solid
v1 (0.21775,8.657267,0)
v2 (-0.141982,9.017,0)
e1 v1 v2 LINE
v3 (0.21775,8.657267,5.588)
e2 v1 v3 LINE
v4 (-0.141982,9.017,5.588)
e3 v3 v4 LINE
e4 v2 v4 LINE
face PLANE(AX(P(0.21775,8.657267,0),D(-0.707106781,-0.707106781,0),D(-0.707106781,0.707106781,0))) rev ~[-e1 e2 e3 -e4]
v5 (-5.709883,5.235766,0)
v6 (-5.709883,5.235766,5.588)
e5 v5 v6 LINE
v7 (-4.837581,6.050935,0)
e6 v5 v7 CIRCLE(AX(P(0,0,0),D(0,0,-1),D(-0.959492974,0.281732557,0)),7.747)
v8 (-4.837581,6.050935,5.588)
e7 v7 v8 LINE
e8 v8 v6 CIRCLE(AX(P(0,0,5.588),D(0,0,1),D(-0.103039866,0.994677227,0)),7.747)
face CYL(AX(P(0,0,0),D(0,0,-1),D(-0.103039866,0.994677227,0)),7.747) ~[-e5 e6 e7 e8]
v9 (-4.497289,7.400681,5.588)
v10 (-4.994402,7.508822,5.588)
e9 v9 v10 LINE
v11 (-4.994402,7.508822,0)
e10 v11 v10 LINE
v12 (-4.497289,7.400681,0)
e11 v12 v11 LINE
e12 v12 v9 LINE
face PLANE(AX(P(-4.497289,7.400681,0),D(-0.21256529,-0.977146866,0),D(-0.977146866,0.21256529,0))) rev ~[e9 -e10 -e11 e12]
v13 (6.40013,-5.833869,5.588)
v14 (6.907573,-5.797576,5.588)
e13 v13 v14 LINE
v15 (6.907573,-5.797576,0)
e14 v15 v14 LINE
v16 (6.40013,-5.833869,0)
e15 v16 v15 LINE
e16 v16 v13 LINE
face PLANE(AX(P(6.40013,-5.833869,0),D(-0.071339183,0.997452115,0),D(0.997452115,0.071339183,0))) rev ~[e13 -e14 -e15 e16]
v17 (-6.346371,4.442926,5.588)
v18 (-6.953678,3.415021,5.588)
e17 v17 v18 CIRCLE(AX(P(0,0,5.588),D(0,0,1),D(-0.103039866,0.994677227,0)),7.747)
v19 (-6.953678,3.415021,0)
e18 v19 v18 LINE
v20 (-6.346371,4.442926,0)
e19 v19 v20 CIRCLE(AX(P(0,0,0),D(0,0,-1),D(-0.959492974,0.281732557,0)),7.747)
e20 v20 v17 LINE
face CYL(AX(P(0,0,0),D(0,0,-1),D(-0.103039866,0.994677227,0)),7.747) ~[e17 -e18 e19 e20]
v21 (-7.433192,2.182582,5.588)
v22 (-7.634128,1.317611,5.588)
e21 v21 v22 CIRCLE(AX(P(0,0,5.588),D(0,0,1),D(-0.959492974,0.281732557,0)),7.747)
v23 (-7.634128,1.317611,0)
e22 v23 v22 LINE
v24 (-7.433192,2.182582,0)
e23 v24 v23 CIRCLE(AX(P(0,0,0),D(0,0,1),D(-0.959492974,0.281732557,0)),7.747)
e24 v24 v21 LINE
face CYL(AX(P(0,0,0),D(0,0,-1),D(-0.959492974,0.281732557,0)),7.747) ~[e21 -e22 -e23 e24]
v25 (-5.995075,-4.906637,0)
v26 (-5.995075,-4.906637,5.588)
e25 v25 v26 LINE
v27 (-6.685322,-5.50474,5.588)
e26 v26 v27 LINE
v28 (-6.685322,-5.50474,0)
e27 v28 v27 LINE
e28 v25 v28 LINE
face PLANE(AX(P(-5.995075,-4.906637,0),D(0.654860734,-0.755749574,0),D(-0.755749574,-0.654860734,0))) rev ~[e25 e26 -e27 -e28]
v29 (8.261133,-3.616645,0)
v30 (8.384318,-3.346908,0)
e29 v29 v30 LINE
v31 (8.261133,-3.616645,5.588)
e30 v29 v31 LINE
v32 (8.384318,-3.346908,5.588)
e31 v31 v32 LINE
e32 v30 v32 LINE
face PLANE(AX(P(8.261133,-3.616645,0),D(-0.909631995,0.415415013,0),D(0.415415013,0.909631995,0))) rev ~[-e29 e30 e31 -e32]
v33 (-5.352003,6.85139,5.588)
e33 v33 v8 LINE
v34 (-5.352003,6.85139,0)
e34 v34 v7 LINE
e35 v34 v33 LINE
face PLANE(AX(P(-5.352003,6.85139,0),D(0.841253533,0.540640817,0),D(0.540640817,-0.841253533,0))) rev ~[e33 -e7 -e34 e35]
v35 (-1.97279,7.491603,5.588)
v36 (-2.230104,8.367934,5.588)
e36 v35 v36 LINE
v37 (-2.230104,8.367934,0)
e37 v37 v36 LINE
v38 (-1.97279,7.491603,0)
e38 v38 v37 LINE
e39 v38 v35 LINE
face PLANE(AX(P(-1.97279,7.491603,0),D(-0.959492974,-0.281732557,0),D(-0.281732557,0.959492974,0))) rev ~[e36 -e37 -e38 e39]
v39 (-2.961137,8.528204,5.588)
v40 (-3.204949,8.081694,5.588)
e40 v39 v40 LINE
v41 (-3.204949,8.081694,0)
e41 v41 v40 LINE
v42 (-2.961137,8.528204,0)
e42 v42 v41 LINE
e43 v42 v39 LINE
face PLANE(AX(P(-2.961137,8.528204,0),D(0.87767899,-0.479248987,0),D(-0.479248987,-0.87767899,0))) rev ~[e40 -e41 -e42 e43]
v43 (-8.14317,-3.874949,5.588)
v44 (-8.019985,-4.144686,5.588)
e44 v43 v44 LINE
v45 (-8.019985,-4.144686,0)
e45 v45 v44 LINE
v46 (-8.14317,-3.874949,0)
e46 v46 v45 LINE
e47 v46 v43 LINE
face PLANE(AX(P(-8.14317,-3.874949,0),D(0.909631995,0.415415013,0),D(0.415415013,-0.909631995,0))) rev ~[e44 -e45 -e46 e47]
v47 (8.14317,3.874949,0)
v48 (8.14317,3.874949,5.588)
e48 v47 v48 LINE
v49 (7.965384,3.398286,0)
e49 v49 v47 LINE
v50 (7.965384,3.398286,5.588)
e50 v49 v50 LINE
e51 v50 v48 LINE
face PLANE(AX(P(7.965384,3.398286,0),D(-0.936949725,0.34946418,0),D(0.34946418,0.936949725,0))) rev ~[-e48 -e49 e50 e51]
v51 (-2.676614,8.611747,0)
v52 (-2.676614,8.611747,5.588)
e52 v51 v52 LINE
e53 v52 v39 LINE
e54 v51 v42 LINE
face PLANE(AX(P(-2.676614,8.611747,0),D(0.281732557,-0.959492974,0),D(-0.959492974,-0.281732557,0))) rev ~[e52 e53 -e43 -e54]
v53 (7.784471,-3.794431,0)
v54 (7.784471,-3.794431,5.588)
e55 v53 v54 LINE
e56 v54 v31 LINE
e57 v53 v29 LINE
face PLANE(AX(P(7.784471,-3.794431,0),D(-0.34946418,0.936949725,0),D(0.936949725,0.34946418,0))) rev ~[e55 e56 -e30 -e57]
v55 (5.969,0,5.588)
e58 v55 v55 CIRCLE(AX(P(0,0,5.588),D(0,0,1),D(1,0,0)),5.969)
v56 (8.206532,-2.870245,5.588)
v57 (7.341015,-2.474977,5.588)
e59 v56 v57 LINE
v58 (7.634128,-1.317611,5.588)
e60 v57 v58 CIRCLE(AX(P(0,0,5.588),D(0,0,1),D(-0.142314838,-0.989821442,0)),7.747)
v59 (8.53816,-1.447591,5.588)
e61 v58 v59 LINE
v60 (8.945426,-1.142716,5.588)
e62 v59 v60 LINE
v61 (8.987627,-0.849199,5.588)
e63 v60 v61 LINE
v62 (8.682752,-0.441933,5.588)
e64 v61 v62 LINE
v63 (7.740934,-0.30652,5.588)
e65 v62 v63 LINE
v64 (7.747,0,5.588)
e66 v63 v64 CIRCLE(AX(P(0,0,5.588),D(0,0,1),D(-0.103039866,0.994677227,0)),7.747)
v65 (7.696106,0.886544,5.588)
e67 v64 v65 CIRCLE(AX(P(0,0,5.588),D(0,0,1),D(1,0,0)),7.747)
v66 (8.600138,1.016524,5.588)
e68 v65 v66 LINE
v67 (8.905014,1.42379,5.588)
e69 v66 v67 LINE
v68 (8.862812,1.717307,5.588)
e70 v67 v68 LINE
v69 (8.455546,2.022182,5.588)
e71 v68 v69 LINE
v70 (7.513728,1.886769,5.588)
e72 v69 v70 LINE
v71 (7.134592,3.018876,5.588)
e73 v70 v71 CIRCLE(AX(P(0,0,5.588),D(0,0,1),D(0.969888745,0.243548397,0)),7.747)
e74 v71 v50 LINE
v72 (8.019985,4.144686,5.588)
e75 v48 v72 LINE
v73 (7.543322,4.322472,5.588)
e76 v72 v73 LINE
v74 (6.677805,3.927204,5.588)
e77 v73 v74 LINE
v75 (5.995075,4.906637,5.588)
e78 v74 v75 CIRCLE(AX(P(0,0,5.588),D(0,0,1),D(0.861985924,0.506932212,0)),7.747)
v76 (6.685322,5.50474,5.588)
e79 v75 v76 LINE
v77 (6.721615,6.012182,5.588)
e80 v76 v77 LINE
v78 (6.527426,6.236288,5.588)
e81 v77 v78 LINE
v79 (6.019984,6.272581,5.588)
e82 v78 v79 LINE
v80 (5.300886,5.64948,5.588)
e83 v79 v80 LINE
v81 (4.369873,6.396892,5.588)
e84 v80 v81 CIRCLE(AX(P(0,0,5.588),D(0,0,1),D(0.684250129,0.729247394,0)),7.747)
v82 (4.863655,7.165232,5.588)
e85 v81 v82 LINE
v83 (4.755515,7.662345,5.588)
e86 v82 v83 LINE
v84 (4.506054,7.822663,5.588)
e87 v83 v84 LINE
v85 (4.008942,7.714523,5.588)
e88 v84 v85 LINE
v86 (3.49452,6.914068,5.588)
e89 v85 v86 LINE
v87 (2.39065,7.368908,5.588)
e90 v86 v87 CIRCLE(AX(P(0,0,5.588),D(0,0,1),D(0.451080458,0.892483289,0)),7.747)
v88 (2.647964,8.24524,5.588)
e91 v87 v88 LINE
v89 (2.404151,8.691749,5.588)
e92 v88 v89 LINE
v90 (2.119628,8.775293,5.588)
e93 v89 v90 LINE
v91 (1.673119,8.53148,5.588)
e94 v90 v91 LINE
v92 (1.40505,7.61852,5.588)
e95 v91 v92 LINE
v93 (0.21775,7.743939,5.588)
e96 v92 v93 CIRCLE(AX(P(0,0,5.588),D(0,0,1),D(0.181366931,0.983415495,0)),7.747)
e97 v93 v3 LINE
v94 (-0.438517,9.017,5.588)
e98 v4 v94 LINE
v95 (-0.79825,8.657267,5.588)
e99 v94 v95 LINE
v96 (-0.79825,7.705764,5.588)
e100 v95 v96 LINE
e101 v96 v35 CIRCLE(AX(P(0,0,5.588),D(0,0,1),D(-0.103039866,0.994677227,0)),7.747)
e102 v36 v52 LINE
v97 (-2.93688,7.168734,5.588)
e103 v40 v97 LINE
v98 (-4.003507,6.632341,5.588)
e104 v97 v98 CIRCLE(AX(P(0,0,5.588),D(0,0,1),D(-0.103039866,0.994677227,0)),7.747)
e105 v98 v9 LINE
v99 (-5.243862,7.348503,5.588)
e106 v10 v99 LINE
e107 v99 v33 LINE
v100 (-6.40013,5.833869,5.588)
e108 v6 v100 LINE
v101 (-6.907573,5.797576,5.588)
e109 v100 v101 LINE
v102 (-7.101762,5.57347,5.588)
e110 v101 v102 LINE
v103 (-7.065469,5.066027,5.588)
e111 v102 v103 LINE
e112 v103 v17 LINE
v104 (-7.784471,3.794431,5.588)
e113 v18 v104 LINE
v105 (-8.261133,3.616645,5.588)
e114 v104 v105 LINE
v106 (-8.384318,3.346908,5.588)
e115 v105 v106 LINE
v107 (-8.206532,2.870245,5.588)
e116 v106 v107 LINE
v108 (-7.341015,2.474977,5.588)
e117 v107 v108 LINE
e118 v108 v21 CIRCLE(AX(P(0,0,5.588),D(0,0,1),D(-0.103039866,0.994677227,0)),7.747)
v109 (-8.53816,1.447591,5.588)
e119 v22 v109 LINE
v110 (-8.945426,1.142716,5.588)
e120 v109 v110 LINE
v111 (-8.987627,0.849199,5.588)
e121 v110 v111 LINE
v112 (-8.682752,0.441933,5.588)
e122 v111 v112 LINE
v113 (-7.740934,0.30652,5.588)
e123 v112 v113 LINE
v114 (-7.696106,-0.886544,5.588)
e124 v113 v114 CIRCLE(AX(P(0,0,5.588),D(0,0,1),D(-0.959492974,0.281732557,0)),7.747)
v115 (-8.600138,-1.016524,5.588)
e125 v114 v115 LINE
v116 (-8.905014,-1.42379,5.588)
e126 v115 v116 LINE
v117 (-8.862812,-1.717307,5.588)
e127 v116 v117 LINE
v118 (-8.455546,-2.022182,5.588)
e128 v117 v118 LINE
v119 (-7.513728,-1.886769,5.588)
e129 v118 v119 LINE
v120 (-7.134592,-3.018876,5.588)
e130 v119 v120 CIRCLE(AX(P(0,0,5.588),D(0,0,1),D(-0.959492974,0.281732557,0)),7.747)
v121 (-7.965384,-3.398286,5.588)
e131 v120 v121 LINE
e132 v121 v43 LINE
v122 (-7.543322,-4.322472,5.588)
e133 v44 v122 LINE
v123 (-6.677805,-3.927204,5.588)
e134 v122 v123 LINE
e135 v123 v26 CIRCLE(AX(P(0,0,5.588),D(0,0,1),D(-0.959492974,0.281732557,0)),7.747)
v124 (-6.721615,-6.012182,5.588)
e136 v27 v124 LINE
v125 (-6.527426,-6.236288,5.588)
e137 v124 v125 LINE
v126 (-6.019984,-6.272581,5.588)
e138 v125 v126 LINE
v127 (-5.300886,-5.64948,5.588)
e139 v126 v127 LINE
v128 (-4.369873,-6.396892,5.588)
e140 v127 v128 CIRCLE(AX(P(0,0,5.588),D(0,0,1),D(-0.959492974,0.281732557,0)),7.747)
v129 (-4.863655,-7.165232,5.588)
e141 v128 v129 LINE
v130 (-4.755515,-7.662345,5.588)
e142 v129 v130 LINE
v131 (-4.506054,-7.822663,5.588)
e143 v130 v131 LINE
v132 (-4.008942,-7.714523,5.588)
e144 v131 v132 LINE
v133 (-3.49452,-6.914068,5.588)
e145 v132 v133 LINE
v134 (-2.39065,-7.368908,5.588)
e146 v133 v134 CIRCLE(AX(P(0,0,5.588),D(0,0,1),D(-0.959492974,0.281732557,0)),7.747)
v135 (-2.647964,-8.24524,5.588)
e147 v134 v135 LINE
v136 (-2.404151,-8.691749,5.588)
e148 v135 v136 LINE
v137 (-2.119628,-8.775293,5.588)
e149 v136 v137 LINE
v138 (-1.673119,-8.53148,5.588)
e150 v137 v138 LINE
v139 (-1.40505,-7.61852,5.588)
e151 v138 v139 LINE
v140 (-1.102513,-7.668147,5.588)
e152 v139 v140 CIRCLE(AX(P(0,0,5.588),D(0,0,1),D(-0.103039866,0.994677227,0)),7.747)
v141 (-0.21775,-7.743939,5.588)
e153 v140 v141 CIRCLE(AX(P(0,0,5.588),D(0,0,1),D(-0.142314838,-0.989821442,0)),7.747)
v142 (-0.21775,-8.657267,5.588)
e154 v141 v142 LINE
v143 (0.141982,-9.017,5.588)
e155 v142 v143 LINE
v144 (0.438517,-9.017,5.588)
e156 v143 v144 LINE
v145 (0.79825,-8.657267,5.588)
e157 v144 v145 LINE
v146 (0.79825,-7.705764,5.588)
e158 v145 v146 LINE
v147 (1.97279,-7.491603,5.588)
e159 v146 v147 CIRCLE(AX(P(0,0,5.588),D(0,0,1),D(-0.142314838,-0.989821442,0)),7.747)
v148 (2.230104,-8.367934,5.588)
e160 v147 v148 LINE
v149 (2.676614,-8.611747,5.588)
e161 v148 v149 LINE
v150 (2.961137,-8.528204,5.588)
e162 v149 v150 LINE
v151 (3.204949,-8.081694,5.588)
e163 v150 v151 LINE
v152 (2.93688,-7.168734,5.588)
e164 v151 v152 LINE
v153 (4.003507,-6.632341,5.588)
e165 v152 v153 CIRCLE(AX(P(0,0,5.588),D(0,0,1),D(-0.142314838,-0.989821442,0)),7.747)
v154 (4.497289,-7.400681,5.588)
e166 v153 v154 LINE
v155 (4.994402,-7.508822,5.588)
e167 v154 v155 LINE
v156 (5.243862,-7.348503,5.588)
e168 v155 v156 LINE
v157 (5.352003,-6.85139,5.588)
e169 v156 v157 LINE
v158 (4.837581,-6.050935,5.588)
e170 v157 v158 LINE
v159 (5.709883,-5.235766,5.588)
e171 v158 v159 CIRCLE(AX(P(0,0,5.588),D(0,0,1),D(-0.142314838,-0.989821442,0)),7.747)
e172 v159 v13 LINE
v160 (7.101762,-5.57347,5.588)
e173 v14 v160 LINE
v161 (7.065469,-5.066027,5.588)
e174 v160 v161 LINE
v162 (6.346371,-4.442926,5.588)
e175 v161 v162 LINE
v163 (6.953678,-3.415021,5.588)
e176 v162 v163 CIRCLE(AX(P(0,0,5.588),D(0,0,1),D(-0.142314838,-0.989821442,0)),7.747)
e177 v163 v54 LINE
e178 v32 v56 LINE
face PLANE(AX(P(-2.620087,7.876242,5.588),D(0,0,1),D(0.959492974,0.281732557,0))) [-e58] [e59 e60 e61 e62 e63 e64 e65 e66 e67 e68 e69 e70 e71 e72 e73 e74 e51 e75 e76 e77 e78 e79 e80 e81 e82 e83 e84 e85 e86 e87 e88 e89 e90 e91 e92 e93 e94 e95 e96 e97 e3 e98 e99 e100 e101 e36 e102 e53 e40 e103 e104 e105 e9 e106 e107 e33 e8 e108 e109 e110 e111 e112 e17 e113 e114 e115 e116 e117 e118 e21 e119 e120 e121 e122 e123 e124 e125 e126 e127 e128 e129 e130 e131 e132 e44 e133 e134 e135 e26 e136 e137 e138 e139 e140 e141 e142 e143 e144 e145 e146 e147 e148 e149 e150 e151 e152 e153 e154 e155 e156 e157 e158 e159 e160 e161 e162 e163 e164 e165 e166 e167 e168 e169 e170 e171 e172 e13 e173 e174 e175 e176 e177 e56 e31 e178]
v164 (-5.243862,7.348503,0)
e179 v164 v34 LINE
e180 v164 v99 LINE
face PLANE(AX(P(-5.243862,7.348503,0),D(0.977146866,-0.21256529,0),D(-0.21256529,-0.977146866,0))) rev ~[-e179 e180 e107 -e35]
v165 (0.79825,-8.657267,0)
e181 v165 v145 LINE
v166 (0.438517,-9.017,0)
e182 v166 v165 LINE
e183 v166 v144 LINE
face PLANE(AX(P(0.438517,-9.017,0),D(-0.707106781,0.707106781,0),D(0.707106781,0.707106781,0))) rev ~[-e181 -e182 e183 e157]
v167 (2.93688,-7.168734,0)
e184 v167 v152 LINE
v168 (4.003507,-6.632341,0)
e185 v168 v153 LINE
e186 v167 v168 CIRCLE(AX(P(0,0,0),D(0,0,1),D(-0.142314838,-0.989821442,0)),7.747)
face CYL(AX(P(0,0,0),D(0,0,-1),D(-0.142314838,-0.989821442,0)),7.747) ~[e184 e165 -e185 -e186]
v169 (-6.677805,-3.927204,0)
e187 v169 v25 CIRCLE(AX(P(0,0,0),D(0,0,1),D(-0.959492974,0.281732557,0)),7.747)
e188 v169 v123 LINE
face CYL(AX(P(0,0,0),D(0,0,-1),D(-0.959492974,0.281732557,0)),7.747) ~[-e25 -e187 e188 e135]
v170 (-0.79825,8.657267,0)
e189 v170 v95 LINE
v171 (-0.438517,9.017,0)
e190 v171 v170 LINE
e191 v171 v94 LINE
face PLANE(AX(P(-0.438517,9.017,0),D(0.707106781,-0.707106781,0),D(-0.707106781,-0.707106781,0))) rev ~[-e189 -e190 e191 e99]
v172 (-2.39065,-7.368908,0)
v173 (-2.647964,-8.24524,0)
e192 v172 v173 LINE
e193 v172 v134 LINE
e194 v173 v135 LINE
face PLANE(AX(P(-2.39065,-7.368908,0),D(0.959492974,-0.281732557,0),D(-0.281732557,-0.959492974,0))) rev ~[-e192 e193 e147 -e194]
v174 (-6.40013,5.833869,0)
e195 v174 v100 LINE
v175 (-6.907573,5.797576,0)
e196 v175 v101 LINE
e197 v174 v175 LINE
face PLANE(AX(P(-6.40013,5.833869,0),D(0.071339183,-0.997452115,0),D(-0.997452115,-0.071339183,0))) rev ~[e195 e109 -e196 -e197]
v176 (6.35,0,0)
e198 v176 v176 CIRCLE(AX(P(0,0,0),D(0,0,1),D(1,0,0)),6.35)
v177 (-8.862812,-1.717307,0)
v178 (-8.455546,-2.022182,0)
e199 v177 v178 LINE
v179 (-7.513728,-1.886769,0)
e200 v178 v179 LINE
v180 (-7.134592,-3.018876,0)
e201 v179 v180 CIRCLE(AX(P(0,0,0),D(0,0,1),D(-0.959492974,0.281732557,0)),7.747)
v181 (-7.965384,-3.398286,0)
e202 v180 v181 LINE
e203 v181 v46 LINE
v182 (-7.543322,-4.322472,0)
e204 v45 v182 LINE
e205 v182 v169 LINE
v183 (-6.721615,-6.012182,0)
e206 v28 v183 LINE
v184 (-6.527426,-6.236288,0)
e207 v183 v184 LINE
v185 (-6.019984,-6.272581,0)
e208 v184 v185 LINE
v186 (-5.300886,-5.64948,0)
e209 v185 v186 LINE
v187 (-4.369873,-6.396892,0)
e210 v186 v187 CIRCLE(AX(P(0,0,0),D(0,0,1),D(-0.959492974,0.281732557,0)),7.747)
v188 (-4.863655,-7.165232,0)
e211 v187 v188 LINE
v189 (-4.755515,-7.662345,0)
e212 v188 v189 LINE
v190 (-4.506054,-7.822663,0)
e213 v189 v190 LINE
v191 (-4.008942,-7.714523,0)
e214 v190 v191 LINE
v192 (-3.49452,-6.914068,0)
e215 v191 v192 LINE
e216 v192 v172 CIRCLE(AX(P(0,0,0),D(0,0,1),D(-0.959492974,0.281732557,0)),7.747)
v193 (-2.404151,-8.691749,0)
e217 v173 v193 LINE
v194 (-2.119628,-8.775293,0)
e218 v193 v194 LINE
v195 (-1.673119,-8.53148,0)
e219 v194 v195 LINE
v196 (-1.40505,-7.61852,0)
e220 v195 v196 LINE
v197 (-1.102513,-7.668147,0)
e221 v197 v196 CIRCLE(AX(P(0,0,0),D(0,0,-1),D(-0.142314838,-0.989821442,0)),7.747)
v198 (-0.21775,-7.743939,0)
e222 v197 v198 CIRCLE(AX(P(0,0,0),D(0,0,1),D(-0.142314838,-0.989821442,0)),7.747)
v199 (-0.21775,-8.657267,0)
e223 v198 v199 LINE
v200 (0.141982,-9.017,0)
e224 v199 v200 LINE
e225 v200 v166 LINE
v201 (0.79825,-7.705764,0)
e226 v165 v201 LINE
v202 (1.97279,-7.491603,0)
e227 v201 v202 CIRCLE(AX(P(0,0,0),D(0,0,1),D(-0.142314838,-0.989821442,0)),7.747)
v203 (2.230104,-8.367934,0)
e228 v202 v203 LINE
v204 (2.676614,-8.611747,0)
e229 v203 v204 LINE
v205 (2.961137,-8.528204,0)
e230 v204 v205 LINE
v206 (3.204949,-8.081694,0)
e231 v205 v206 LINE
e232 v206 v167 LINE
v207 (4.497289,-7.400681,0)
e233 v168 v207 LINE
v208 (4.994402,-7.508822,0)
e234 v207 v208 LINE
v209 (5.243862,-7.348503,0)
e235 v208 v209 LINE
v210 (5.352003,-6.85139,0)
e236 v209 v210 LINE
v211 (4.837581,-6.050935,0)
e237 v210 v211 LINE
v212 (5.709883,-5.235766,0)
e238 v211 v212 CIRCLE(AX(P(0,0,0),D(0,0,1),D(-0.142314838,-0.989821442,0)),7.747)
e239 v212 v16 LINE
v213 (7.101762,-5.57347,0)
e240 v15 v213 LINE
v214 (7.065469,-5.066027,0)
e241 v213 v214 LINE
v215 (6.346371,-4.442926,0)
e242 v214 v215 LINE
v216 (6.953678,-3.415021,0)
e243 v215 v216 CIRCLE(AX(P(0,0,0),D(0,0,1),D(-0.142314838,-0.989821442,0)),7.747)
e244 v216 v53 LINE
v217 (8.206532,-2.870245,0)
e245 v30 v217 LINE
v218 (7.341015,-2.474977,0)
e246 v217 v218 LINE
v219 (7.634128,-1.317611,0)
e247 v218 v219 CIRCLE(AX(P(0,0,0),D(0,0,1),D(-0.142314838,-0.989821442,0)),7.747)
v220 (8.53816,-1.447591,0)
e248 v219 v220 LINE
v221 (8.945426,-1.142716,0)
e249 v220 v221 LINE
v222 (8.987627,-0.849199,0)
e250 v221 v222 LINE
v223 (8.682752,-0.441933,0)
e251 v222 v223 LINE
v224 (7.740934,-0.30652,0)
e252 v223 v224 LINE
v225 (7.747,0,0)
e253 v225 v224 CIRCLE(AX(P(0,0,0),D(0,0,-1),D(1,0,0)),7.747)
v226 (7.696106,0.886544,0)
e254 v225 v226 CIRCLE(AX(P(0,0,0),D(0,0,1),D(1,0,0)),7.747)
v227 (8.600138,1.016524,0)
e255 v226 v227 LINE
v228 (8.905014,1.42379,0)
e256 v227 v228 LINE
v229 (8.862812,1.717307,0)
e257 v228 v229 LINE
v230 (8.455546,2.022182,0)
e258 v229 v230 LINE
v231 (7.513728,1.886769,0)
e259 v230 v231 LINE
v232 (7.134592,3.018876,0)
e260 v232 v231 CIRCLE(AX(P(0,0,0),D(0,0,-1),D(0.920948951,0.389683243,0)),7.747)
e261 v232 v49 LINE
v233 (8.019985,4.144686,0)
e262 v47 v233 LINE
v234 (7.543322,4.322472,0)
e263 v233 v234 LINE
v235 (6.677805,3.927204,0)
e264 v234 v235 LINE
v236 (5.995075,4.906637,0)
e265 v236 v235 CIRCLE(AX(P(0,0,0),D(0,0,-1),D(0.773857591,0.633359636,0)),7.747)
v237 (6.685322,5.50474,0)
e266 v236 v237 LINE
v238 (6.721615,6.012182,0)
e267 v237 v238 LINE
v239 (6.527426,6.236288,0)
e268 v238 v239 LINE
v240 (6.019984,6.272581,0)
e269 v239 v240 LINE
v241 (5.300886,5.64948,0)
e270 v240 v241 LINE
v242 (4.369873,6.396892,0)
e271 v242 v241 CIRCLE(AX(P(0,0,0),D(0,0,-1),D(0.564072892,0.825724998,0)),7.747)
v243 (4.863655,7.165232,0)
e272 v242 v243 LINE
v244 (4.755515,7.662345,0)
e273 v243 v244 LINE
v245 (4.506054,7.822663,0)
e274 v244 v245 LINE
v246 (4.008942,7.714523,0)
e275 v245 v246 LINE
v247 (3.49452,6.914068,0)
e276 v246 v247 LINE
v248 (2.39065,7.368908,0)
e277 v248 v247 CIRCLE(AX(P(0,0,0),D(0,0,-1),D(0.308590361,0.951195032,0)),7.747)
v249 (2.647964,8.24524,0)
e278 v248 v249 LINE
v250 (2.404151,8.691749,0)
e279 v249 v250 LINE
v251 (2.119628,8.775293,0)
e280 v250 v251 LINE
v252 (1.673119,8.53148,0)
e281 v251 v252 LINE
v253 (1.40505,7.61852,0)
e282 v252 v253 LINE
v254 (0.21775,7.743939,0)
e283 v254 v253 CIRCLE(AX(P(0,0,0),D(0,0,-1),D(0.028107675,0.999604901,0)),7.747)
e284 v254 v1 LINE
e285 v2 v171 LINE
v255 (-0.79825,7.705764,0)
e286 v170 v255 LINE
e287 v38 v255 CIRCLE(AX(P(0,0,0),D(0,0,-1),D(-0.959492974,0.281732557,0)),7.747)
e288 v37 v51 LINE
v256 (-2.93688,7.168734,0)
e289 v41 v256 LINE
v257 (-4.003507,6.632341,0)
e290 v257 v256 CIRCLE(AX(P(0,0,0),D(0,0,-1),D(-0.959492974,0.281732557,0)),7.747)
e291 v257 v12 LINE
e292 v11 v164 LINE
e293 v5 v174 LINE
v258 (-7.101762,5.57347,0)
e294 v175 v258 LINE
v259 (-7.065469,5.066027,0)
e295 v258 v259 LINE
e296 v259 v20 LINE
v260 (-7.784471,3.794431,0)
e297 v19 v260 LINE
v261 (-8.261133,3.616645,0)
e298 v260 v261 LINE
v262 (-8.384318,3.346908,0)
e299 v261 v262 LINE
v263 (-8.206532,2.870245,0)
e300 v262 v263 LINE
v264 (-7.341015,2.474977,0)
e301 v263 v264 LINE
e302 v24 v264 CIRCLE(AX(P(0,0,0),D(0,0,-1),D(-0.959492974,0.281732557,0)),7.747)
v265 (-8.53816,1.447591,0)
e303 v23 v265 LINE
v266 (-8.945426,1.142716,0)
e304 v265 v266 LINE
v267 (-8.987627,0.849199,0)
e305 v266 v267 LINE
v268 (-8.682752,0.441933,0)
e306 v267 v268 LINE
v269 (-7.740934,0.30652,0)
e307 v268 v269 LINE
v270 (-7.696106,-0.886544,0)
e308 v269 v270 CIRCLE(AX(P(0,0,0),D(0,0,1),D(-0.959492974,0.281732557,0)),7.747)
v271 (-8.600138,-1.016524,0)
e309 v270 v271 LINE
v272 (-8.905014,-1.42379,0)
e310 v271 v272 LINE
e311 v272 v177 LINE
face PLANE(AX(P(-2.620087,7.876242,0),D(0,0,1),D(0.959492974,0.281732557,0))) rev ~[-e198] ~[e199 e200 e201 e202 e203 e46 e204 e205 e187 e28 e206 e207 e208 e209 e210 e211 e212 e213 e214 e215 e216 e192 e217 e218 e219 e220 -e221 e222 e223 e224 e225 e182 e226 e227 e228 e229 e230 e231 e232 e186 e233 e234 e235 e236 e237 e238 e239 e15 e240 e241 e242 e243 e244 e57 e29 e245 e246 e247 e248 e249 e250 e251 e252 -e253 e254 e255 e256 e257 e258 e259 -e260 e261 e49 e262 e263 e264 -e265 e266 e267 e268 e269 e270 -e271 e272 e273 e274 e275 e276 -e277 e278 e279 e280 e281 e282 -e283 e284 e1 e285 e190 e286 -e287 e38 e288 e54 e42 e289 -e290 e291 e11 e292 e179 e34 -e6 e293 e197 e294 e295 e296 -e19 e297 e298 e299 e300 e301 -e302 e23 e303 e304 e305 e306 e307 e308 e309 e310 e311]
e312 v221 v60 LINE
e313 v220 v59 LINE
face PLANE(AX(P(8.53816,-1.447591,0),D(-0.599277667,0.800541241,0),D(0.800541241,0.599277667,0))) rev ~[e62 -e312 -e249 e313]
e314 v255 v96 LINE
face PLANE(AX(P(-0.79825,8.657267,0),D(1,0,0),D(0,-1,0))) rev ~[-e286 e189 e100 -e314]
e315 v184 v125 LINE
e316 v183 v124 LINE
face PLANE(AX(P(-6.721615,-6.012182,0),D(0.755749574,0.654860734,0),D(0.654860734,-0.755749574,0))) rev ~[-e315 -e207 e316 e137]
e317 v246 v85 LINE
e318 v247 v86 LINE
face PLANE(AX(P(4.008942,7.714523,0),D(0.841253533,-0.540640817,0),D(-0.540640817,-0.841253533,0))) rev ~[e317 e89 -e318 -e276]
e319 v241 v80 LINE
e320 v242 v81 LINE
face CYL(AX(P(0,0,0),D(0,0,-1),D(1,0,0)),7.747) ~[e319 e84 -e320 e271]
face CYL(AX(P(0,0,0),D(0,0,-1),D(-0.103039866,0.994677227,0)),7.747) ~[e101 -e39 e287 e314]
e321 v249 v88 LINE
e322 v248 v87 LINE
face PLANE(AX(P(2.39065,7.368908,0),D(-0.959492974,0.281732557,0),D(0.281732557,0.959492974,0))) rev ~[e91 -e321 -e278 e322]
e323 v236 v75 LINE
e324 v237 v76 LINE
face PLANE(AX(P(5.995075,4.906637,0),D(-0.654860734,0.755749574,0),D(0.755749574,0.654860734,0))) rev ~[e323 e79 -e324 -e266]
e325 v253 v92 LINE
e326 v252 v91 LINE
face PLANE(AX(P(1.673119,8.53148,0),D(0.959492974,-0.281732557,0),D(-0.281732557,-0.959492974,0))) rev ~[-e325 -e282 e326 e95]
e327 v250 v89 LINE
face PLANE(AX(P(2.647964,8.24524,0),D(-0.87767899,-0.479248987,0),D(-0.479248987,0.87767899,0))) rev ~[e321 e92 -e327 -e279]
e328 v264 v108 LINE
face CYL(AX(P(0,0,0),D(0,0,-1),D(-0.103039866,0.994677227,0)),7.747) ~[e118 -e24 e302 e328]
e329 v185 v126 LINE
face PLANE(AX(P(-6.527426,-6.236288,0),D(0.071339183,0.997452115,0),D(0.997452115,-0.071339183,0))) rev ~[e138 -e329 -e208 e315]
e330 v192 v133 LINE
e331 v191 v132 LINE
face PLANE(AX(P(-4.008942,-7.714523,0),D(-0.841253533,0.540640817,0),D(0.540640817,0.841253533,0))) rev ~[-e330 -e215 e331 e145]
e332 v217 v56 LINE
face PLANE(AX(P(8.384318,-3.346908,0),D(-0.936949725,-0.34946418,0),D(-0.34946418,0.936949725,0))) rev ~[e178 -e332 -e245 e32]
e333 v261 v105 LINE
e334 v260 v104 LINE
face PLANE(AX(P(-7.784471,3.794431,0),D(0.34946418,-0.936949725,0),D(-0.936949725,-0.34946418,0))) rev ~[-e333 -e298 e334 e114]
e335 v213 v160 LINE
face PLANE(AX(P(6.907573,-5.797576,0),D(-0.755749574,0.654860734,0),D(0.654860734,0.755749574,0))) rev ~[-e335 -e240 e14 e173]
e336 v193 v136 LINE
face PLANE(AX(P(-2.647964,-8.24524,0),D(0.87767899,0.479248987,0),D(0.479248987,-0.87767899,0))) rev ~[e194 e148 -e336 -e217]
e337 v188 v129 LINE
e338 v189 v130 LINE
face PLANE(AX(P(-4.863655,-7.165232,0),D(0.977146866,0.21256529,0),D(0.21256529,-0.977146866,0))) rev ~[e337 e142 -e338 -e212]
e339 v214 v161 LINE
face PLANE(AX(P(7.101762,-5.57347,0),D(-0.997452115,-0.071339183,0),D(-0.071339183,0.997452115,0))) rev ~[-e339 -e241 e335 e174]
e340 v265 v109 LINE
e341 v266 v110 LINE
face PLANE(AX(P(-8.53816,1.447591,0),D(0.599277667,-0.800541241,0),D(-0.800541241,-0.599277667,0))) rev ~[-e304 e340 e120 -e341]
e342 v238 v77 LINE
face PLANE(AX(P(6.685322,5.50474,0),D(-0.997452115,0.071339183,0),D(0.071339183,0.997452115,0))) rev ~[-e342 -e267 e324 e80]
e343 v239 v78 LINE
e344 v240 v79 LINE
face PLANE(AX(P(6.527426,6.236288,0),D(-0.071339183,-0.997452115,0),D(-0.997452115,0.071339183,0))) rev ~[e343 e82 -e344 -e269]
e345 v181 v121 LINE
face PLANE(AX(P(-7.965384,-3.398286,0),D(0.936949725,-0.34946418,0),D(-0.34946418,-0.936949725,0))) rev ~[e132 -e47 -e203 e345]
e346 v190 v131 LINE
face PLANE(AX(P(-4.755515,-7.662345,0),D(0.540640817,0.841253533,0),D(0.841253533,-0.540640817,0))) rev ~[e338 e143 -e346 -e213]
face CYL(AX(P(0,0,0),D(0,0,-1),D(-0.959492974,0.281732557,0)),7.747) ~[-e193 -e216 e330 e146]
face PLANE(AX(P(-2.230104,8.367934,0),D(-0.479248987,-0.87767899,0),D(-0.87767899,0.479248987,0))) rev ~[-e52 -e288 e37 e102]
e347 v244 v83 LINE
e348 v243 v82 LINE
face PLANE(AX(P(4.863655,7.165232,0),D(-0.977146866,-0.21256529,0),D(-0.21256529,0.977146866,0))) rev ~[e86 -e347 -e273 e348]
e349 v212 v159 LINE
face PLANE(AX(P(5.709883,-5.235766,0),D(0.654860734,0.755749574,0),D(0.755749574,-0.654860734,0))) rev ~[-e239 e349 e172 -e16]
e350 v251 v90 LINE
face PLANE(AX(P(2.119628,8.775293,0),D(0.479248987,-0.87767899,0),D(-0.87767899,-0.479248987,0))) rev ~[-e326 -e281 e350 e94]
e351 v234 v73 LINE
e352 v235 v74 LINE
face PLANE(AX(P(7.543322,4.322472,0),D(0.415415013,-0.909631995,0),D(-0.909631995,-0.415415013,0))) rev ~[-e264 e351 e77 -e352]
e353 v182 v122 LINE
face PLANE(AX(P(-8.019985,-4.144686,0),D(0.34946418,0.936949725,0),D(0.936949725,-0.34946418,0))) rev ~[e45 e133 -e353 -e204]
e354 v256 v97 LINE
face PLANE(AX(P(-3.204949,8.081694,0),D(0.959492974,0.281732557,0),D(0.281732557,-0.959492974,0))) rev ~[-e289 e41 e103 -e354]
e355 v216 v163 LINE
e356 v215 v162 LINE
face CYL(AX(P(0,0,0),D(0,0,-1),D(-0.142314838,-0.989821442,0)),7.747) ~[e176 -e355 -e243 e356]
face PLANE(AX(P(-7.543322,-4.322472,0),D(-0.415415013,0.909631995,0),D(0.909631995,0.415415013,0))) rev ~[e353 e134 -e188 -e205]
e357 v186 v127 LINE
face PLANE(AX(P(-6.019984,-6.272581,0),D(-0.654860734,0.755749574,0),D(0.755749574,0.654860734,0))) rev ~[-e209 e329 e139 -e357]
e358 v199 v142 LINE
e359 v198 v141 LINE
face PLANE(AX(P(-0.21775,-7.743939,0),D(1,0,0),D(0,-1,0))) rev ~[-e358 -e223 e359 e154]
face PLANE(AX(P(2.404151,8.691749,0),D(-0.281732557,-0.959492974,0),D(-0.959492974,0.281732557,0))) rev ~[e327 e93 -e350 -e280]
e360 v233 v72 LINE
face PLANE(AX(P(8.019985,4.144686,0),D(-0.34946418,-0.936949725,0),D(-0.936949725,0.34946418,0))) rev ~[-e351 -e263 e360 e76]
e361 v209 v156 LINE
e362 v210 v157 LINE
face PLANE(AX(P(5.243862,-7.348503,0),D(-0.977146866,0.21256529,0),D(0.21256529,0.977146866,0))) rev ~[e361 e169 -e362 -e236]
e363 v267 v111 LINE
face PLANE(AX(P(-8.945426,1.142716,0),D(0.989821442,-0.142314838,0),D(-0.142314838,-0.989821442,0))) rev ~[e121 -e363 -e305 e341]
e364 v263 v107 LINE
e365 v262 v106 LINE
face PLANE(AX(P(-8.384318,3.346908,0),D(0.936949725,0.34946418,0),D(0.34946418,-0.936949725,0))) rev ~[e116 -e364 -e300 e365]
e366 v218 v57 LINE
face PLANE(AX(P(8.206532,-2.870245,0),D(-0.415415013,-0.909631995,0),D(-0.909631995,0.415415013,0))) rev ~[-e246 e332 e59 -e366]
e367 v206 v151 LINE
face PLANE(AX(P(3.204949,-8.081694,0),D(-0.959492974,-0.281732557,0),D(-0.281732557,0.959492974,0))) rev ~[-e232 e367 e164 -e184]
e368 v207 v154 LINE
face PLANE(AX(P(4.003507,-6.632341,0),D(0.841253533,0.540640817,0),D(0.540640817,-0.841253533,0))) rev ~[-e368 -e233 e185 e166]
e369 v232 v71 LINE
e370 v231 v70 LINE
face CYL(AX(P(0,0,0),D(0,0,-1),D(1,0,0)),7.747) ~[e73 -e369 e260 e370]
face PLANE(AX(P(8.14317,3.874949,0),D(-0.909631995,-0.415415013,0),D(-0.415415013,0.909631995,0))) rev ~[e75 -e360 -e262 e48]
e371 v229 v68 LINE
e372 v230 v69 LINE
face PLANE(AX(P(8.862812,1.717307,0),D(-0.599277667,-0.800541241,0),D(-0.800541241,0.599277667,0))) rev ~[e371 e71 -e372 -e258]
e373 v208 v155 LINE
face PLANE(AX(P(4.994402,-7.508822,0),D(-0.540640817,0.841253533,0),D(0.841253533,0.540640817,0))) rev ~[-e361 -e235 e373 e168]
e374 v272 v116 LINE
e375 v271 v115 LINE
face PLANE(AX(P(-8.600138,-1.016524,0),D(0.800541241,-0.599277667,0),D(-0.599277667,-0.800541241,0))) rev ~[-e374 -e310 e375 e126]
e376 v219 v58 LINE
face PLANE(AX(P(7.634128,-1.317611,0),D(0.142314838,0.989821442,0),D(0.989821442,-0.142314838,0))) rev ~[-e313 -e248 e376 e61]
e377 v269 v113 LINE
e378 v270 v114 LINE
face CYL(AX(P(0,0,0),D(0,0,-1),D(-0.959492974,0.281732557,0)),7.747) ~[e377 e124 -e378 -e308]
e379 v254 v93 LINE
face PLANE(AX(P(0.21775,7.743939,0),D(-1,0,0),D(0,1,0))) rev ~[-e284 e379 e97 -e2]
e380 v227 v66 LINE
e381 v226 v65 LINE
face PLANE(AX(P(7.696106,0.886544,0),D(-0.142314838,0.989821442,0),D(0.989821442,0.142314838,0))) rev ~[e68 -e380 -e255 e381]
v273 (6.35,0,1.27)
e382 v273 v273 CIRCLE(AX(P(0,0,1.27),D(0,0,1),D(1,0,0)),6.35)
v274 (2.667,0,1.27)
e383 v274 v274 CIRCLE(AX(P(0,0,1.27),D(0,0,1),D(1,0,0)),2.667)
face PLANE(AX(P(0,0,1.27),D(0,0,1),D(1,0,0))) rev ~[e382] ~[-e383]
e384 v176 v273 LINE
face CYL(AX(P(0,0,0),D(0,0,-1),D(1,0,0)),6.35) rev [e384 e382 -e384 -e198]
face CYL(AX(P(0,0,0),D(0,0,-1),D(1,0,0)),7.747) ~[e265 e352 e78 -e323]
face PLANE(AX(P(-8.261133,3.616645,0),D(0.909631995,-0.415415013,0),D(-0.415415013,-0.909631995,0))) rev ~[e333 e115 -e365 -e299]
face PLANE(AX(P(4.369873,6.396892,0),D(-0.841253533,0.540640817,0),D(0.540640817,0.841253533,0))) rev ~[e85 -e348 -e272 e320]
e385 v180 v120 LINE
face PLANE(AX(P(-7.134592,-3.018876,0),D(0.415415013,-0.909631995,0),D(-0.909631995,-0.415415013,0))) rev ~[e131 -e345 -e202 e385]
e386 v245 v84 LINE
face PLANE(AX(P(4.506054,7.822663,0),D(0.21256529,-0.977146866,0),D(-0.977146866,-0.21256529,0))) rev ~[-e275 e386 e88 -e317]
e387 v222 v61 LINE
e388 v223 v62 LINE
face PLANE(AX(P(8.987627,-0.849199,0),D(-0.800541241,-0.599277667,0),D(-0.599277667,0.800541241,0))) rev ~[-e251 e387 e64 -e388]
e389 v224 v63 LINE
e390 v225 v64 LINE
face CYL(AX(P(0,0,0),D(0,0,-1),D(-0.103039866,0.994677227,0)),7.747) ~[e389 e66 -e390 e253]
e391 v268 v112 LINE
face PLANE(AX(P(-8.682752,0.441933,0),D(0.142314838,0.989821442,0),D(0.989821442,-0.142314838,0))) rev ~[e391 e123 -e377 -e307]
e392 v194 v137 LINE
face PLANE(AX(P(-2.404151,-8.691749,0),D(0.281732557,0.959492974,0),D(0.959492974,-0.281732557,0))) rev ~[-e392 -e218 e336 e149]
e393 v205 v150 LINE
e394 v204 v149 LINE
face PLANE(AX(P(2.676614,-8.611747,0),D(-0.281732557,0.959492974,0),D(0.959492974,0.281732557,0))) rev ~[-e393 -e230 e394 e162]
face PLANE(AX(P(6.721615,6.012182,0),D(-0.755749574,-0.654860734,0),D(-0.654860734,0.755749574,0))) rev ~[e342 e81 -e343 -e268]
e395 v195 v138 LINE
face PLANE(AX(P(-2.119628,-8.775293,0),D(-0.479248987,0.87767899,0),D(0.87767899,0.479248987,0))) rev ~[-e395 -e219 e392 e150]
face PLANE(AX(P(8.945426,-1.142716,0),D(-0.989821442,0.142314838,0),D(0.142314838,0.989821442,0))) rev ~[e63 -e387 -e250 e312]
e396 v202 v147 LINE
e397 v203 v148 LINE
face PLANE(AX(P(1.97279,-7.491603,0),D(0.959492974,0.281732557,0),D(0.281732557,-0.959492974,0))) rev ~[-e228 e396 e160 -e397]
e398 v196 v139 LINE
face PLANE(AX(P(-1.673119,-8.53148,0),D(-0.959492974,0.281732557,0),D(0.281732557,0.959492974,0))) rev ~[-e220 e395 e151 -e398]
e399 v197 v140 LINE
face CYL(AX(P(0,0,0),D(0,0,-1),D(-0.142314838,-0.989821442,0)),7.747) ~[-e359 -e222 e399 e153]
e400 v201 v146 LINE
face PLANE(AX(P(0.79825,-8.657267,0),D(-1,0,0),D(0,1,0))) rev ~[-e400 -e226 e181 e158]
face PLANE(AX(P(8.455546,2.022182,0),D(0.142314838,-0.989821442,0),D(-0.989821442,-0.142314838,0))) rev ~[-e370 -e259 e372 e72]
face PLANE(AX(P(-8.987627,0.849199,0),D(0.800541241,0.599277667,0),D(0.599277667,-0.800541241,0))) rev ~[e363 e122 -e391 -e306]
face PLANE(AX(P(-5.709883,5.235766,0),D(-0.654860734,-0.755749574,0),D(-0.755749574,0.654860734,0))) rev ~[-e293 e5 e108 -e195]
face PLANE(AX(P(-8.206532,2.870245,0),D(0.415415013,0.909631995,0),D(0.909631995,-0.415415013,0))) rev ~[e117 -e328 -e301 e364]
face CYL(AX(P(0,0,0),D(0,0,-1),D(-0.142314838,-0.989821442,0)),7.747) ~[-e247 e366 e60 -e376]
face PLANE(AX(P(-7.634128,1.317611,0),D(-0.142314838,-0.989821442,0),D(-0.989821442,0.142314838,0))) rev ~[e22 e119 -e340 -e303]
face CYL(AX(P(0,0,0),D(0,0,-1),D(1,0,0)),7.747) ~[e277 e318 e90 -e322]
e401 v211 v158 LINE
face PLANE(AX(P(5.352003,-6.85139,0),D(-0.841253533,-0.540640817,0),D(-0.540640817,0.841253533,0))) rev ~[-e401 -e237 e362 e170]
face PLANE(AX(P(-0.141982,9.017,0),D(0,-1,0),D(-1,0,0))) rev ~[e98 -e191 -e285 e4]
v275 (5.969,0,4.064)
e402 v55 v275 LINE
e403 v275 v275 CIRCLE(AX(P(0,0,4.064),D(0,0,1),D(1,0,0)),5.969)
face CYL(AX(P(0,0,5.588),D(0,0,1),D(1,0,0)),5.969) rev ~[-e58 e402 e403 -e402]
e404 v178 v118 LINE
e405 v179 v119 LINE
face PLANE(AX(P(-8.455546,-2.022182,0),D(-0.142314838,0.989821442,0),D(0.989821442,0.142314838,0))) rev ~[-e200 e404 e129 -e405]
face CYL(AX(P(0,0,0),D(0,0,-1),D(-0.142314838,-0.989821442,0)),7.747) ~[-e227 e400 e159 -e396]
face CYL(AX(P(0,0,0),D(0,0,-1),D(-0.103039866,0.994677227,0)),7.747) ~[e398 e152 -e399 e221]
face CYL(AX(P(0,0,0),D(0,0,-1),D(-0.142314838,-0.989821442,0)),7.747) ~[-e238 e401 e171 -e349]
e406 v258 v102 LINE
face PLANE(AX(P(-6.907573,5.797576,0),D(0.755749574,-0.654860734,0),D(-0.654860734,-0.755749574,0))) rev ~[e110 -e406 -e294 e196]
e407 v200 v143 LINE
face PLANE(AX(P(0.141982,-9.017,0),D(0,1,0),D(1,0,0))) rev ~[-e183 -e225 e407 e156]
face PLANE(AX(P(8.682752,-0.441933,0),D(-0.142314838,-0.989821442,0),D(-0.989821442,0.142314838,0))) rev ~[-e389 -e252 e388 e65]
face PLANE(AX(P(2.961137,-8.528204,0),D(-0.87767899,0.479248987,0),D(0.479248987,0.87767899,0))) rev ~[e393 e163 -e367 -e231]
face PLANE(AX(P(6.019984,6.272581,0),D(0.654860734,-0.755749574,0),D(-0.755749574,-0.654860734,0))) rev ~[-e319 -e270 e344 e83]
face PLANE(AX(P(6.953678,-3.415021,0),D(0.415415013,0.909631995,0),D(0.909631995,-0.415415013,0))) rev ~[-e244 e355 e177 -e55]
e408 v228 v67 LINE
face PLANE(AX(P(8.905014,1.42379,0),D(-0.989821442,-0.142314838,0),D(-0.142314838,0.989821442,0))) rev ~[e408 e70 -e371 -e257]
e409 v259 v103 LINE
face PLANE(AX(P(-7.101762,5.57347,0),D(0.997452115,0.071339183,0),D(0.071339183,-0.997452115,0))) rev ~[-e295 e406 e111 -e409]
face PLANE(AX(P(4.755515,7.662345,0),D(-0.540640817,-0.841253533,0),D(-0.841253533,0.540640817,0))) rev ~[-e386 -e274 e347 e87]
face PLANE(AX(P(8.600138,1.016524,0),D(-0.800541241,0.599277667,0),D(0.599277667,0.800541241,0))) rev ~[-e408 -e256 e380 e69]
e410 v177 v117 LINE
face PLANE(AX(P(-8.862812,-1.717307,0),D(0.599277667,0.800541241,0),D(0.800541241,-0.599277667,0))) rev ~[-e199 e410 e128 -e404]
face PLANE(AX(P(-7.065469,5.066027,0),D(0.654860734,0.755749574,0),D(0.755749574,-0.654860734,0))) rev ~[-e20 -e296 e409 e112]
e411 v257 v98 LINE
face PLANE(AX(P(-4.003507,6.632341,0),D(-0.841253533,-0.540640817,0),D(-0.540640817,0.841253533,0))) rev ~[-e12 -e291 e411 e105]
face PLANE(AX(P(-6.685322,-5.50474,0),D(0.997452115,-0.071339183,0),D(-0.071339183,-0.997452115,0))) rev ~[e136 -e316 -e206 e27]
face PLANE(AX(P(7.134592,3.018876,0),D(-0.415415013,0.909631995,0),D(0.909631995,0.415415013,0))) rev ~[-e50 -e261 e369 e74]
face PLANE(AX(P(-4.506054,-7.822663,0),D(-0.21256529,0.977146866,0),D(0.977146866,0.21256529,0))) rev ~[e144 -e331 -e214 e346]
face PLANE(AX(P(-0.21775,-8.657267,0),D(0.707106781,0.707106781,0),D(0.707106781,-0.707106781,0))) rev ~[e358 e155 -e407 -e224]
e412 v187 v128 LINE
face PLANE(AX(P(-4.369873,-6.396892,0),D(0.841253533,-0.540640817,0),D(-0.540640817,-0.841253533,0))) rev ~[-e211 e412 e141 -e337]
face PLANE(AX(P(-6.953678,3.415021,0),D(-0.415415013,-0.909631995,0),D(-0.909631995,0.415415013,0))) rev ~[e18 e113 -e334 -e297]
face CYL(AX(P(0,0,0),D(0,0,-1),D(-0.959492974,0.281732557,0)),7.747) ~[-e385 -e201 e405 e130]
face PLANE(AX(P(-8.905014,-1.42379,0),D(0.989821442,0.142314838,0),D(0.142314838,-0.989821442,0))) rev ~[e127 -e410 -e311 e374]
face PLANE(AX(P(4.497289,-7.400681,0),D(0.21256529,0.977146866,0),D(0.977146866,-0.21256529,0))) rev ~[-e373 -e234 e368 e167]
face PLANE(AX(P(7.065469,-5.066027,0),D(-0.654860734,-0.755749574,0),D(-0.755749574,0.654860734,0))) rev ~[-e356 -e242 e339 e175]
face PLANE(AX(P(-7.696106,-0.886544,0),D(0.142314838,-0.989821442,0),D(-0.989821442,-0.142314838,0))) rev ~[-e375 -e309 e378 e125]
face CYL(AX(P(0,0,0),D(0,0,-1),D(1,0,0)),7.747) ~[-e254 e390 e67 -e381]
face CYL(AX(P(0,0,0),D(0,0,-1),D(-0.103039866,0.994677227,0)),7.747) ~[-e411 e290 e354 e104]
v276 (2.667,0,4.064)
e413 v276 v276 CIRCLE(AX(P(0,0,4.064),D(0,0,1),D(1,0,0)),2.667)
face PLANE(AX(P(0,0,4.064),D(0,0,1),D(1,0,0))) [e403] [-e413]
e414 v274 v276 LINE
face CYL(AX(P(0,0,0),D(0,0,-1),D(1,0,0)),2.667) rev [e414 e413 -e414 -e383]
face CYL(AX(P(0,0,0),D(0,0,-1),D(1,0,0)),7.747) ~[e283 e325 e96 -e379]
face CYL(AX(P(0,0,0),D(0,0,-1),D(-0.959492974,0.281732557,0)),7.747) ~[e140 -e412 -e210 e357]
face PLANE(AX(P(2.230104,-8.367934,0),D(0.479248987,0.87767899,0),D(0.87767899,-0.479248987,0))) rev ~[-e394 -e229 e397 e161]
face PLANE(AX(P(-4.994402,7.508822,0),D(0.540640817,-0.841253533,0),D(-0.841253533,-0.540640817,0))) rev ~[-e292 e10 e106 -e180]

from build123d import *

# Parameters (mm, degrees)
F0_R     = 2.667
F1_DEPTH = 5.588
F2_DEPTH = 5.588
F3_COUNT = 22
F5_R     = 6.35
F5_R_2   = 2.667
F6_DEPTH = 1.27
F4_R     = 5.969
F4_R_2   = 2.667
F7_DEPTH = 1.524


with BuildPart() as f1:
    # F0 (on Top) → F1 (new body)
    with BuildSketch(Plane.XY):
        with BuildLine():
            ThreePointArc((-0.7982498419, 7.705764478), (-5.1880616551, -5.753262141), (7.747, 0))
            ThreePointArc((7.747, 0), (5.5544090358, 5.4004212116), (0.2177501581, 7.74393917))
            ThreePointArc((0.2177501581, 7.74393917), (-0.2908767737, 7.7415372958), (-0.7982498419, 7.705764478))
        make_face()
        Circle(F0_R, mode=Mode.SUBTRACT)
    extrude(amount=F1_DEPTH)

    # F0 (on Top) → F2 (join)
    with BuildSketch(Plane.XY):
        with BuildLine():
            ThreePointArc((-0.7982498419, 7.705764478), (-0.2908767737, 7.7415372958), (0.2177501581, 7.74393917))
            Line((0.2177501581, 7.74393917), (0.2177501581, 8.6572673449))
            Line((0.2177501581, 8.6572673449), (0, 8.875017503))
            Line((0, 8.875017503), (-0.141982497, 9.017))
            Line((-0.141982497, 9.017), (-0.4385171868, 9.017))
            Line((-0.4385171868, 9.017), (-0.7194063476, 8.7361108392))
            Line((-0.7194063476, 8.7361108392), (-0.7982498419, 8.6572673449))
            Line((-0.7982498419, 8.6572673449), (-0.7982498419, 7.705764478))
        make_face()
    extrude(amount=F2_DEPTH)

    # F3: F1 ×22 about axis
    f3_axis = Axis((0, 0, 0), (0, 0, -1))


with BuildPart() as f1_1:
    add(f1.part)
    for i in range(1, F3_COUNT):
        add(f1.part.rotate(f3_axis, i * 360 / F3_COUNT))

    # F5 (on face) → F6 (cut)
    with BuildSketch(Plane.XY):
        Circle(F5_R)
        Circle(F5_R_2, mode=Mode.SUBTRACT)
    extrude(amount=F6_DEPTH, mode=Mode.SUBTRACT)

    # F4 (on face) → F7 (cut)
    with BuildSketch(Plane.XY.offset(5.588)):
        Circle(F4_R)
        Circle(F4_R_2, mode=Mode.SUBTRACT)
    extrude(amount=-F7_DEPTH, mode=Mode.SUBTRACT)


solid = f1_1.part
